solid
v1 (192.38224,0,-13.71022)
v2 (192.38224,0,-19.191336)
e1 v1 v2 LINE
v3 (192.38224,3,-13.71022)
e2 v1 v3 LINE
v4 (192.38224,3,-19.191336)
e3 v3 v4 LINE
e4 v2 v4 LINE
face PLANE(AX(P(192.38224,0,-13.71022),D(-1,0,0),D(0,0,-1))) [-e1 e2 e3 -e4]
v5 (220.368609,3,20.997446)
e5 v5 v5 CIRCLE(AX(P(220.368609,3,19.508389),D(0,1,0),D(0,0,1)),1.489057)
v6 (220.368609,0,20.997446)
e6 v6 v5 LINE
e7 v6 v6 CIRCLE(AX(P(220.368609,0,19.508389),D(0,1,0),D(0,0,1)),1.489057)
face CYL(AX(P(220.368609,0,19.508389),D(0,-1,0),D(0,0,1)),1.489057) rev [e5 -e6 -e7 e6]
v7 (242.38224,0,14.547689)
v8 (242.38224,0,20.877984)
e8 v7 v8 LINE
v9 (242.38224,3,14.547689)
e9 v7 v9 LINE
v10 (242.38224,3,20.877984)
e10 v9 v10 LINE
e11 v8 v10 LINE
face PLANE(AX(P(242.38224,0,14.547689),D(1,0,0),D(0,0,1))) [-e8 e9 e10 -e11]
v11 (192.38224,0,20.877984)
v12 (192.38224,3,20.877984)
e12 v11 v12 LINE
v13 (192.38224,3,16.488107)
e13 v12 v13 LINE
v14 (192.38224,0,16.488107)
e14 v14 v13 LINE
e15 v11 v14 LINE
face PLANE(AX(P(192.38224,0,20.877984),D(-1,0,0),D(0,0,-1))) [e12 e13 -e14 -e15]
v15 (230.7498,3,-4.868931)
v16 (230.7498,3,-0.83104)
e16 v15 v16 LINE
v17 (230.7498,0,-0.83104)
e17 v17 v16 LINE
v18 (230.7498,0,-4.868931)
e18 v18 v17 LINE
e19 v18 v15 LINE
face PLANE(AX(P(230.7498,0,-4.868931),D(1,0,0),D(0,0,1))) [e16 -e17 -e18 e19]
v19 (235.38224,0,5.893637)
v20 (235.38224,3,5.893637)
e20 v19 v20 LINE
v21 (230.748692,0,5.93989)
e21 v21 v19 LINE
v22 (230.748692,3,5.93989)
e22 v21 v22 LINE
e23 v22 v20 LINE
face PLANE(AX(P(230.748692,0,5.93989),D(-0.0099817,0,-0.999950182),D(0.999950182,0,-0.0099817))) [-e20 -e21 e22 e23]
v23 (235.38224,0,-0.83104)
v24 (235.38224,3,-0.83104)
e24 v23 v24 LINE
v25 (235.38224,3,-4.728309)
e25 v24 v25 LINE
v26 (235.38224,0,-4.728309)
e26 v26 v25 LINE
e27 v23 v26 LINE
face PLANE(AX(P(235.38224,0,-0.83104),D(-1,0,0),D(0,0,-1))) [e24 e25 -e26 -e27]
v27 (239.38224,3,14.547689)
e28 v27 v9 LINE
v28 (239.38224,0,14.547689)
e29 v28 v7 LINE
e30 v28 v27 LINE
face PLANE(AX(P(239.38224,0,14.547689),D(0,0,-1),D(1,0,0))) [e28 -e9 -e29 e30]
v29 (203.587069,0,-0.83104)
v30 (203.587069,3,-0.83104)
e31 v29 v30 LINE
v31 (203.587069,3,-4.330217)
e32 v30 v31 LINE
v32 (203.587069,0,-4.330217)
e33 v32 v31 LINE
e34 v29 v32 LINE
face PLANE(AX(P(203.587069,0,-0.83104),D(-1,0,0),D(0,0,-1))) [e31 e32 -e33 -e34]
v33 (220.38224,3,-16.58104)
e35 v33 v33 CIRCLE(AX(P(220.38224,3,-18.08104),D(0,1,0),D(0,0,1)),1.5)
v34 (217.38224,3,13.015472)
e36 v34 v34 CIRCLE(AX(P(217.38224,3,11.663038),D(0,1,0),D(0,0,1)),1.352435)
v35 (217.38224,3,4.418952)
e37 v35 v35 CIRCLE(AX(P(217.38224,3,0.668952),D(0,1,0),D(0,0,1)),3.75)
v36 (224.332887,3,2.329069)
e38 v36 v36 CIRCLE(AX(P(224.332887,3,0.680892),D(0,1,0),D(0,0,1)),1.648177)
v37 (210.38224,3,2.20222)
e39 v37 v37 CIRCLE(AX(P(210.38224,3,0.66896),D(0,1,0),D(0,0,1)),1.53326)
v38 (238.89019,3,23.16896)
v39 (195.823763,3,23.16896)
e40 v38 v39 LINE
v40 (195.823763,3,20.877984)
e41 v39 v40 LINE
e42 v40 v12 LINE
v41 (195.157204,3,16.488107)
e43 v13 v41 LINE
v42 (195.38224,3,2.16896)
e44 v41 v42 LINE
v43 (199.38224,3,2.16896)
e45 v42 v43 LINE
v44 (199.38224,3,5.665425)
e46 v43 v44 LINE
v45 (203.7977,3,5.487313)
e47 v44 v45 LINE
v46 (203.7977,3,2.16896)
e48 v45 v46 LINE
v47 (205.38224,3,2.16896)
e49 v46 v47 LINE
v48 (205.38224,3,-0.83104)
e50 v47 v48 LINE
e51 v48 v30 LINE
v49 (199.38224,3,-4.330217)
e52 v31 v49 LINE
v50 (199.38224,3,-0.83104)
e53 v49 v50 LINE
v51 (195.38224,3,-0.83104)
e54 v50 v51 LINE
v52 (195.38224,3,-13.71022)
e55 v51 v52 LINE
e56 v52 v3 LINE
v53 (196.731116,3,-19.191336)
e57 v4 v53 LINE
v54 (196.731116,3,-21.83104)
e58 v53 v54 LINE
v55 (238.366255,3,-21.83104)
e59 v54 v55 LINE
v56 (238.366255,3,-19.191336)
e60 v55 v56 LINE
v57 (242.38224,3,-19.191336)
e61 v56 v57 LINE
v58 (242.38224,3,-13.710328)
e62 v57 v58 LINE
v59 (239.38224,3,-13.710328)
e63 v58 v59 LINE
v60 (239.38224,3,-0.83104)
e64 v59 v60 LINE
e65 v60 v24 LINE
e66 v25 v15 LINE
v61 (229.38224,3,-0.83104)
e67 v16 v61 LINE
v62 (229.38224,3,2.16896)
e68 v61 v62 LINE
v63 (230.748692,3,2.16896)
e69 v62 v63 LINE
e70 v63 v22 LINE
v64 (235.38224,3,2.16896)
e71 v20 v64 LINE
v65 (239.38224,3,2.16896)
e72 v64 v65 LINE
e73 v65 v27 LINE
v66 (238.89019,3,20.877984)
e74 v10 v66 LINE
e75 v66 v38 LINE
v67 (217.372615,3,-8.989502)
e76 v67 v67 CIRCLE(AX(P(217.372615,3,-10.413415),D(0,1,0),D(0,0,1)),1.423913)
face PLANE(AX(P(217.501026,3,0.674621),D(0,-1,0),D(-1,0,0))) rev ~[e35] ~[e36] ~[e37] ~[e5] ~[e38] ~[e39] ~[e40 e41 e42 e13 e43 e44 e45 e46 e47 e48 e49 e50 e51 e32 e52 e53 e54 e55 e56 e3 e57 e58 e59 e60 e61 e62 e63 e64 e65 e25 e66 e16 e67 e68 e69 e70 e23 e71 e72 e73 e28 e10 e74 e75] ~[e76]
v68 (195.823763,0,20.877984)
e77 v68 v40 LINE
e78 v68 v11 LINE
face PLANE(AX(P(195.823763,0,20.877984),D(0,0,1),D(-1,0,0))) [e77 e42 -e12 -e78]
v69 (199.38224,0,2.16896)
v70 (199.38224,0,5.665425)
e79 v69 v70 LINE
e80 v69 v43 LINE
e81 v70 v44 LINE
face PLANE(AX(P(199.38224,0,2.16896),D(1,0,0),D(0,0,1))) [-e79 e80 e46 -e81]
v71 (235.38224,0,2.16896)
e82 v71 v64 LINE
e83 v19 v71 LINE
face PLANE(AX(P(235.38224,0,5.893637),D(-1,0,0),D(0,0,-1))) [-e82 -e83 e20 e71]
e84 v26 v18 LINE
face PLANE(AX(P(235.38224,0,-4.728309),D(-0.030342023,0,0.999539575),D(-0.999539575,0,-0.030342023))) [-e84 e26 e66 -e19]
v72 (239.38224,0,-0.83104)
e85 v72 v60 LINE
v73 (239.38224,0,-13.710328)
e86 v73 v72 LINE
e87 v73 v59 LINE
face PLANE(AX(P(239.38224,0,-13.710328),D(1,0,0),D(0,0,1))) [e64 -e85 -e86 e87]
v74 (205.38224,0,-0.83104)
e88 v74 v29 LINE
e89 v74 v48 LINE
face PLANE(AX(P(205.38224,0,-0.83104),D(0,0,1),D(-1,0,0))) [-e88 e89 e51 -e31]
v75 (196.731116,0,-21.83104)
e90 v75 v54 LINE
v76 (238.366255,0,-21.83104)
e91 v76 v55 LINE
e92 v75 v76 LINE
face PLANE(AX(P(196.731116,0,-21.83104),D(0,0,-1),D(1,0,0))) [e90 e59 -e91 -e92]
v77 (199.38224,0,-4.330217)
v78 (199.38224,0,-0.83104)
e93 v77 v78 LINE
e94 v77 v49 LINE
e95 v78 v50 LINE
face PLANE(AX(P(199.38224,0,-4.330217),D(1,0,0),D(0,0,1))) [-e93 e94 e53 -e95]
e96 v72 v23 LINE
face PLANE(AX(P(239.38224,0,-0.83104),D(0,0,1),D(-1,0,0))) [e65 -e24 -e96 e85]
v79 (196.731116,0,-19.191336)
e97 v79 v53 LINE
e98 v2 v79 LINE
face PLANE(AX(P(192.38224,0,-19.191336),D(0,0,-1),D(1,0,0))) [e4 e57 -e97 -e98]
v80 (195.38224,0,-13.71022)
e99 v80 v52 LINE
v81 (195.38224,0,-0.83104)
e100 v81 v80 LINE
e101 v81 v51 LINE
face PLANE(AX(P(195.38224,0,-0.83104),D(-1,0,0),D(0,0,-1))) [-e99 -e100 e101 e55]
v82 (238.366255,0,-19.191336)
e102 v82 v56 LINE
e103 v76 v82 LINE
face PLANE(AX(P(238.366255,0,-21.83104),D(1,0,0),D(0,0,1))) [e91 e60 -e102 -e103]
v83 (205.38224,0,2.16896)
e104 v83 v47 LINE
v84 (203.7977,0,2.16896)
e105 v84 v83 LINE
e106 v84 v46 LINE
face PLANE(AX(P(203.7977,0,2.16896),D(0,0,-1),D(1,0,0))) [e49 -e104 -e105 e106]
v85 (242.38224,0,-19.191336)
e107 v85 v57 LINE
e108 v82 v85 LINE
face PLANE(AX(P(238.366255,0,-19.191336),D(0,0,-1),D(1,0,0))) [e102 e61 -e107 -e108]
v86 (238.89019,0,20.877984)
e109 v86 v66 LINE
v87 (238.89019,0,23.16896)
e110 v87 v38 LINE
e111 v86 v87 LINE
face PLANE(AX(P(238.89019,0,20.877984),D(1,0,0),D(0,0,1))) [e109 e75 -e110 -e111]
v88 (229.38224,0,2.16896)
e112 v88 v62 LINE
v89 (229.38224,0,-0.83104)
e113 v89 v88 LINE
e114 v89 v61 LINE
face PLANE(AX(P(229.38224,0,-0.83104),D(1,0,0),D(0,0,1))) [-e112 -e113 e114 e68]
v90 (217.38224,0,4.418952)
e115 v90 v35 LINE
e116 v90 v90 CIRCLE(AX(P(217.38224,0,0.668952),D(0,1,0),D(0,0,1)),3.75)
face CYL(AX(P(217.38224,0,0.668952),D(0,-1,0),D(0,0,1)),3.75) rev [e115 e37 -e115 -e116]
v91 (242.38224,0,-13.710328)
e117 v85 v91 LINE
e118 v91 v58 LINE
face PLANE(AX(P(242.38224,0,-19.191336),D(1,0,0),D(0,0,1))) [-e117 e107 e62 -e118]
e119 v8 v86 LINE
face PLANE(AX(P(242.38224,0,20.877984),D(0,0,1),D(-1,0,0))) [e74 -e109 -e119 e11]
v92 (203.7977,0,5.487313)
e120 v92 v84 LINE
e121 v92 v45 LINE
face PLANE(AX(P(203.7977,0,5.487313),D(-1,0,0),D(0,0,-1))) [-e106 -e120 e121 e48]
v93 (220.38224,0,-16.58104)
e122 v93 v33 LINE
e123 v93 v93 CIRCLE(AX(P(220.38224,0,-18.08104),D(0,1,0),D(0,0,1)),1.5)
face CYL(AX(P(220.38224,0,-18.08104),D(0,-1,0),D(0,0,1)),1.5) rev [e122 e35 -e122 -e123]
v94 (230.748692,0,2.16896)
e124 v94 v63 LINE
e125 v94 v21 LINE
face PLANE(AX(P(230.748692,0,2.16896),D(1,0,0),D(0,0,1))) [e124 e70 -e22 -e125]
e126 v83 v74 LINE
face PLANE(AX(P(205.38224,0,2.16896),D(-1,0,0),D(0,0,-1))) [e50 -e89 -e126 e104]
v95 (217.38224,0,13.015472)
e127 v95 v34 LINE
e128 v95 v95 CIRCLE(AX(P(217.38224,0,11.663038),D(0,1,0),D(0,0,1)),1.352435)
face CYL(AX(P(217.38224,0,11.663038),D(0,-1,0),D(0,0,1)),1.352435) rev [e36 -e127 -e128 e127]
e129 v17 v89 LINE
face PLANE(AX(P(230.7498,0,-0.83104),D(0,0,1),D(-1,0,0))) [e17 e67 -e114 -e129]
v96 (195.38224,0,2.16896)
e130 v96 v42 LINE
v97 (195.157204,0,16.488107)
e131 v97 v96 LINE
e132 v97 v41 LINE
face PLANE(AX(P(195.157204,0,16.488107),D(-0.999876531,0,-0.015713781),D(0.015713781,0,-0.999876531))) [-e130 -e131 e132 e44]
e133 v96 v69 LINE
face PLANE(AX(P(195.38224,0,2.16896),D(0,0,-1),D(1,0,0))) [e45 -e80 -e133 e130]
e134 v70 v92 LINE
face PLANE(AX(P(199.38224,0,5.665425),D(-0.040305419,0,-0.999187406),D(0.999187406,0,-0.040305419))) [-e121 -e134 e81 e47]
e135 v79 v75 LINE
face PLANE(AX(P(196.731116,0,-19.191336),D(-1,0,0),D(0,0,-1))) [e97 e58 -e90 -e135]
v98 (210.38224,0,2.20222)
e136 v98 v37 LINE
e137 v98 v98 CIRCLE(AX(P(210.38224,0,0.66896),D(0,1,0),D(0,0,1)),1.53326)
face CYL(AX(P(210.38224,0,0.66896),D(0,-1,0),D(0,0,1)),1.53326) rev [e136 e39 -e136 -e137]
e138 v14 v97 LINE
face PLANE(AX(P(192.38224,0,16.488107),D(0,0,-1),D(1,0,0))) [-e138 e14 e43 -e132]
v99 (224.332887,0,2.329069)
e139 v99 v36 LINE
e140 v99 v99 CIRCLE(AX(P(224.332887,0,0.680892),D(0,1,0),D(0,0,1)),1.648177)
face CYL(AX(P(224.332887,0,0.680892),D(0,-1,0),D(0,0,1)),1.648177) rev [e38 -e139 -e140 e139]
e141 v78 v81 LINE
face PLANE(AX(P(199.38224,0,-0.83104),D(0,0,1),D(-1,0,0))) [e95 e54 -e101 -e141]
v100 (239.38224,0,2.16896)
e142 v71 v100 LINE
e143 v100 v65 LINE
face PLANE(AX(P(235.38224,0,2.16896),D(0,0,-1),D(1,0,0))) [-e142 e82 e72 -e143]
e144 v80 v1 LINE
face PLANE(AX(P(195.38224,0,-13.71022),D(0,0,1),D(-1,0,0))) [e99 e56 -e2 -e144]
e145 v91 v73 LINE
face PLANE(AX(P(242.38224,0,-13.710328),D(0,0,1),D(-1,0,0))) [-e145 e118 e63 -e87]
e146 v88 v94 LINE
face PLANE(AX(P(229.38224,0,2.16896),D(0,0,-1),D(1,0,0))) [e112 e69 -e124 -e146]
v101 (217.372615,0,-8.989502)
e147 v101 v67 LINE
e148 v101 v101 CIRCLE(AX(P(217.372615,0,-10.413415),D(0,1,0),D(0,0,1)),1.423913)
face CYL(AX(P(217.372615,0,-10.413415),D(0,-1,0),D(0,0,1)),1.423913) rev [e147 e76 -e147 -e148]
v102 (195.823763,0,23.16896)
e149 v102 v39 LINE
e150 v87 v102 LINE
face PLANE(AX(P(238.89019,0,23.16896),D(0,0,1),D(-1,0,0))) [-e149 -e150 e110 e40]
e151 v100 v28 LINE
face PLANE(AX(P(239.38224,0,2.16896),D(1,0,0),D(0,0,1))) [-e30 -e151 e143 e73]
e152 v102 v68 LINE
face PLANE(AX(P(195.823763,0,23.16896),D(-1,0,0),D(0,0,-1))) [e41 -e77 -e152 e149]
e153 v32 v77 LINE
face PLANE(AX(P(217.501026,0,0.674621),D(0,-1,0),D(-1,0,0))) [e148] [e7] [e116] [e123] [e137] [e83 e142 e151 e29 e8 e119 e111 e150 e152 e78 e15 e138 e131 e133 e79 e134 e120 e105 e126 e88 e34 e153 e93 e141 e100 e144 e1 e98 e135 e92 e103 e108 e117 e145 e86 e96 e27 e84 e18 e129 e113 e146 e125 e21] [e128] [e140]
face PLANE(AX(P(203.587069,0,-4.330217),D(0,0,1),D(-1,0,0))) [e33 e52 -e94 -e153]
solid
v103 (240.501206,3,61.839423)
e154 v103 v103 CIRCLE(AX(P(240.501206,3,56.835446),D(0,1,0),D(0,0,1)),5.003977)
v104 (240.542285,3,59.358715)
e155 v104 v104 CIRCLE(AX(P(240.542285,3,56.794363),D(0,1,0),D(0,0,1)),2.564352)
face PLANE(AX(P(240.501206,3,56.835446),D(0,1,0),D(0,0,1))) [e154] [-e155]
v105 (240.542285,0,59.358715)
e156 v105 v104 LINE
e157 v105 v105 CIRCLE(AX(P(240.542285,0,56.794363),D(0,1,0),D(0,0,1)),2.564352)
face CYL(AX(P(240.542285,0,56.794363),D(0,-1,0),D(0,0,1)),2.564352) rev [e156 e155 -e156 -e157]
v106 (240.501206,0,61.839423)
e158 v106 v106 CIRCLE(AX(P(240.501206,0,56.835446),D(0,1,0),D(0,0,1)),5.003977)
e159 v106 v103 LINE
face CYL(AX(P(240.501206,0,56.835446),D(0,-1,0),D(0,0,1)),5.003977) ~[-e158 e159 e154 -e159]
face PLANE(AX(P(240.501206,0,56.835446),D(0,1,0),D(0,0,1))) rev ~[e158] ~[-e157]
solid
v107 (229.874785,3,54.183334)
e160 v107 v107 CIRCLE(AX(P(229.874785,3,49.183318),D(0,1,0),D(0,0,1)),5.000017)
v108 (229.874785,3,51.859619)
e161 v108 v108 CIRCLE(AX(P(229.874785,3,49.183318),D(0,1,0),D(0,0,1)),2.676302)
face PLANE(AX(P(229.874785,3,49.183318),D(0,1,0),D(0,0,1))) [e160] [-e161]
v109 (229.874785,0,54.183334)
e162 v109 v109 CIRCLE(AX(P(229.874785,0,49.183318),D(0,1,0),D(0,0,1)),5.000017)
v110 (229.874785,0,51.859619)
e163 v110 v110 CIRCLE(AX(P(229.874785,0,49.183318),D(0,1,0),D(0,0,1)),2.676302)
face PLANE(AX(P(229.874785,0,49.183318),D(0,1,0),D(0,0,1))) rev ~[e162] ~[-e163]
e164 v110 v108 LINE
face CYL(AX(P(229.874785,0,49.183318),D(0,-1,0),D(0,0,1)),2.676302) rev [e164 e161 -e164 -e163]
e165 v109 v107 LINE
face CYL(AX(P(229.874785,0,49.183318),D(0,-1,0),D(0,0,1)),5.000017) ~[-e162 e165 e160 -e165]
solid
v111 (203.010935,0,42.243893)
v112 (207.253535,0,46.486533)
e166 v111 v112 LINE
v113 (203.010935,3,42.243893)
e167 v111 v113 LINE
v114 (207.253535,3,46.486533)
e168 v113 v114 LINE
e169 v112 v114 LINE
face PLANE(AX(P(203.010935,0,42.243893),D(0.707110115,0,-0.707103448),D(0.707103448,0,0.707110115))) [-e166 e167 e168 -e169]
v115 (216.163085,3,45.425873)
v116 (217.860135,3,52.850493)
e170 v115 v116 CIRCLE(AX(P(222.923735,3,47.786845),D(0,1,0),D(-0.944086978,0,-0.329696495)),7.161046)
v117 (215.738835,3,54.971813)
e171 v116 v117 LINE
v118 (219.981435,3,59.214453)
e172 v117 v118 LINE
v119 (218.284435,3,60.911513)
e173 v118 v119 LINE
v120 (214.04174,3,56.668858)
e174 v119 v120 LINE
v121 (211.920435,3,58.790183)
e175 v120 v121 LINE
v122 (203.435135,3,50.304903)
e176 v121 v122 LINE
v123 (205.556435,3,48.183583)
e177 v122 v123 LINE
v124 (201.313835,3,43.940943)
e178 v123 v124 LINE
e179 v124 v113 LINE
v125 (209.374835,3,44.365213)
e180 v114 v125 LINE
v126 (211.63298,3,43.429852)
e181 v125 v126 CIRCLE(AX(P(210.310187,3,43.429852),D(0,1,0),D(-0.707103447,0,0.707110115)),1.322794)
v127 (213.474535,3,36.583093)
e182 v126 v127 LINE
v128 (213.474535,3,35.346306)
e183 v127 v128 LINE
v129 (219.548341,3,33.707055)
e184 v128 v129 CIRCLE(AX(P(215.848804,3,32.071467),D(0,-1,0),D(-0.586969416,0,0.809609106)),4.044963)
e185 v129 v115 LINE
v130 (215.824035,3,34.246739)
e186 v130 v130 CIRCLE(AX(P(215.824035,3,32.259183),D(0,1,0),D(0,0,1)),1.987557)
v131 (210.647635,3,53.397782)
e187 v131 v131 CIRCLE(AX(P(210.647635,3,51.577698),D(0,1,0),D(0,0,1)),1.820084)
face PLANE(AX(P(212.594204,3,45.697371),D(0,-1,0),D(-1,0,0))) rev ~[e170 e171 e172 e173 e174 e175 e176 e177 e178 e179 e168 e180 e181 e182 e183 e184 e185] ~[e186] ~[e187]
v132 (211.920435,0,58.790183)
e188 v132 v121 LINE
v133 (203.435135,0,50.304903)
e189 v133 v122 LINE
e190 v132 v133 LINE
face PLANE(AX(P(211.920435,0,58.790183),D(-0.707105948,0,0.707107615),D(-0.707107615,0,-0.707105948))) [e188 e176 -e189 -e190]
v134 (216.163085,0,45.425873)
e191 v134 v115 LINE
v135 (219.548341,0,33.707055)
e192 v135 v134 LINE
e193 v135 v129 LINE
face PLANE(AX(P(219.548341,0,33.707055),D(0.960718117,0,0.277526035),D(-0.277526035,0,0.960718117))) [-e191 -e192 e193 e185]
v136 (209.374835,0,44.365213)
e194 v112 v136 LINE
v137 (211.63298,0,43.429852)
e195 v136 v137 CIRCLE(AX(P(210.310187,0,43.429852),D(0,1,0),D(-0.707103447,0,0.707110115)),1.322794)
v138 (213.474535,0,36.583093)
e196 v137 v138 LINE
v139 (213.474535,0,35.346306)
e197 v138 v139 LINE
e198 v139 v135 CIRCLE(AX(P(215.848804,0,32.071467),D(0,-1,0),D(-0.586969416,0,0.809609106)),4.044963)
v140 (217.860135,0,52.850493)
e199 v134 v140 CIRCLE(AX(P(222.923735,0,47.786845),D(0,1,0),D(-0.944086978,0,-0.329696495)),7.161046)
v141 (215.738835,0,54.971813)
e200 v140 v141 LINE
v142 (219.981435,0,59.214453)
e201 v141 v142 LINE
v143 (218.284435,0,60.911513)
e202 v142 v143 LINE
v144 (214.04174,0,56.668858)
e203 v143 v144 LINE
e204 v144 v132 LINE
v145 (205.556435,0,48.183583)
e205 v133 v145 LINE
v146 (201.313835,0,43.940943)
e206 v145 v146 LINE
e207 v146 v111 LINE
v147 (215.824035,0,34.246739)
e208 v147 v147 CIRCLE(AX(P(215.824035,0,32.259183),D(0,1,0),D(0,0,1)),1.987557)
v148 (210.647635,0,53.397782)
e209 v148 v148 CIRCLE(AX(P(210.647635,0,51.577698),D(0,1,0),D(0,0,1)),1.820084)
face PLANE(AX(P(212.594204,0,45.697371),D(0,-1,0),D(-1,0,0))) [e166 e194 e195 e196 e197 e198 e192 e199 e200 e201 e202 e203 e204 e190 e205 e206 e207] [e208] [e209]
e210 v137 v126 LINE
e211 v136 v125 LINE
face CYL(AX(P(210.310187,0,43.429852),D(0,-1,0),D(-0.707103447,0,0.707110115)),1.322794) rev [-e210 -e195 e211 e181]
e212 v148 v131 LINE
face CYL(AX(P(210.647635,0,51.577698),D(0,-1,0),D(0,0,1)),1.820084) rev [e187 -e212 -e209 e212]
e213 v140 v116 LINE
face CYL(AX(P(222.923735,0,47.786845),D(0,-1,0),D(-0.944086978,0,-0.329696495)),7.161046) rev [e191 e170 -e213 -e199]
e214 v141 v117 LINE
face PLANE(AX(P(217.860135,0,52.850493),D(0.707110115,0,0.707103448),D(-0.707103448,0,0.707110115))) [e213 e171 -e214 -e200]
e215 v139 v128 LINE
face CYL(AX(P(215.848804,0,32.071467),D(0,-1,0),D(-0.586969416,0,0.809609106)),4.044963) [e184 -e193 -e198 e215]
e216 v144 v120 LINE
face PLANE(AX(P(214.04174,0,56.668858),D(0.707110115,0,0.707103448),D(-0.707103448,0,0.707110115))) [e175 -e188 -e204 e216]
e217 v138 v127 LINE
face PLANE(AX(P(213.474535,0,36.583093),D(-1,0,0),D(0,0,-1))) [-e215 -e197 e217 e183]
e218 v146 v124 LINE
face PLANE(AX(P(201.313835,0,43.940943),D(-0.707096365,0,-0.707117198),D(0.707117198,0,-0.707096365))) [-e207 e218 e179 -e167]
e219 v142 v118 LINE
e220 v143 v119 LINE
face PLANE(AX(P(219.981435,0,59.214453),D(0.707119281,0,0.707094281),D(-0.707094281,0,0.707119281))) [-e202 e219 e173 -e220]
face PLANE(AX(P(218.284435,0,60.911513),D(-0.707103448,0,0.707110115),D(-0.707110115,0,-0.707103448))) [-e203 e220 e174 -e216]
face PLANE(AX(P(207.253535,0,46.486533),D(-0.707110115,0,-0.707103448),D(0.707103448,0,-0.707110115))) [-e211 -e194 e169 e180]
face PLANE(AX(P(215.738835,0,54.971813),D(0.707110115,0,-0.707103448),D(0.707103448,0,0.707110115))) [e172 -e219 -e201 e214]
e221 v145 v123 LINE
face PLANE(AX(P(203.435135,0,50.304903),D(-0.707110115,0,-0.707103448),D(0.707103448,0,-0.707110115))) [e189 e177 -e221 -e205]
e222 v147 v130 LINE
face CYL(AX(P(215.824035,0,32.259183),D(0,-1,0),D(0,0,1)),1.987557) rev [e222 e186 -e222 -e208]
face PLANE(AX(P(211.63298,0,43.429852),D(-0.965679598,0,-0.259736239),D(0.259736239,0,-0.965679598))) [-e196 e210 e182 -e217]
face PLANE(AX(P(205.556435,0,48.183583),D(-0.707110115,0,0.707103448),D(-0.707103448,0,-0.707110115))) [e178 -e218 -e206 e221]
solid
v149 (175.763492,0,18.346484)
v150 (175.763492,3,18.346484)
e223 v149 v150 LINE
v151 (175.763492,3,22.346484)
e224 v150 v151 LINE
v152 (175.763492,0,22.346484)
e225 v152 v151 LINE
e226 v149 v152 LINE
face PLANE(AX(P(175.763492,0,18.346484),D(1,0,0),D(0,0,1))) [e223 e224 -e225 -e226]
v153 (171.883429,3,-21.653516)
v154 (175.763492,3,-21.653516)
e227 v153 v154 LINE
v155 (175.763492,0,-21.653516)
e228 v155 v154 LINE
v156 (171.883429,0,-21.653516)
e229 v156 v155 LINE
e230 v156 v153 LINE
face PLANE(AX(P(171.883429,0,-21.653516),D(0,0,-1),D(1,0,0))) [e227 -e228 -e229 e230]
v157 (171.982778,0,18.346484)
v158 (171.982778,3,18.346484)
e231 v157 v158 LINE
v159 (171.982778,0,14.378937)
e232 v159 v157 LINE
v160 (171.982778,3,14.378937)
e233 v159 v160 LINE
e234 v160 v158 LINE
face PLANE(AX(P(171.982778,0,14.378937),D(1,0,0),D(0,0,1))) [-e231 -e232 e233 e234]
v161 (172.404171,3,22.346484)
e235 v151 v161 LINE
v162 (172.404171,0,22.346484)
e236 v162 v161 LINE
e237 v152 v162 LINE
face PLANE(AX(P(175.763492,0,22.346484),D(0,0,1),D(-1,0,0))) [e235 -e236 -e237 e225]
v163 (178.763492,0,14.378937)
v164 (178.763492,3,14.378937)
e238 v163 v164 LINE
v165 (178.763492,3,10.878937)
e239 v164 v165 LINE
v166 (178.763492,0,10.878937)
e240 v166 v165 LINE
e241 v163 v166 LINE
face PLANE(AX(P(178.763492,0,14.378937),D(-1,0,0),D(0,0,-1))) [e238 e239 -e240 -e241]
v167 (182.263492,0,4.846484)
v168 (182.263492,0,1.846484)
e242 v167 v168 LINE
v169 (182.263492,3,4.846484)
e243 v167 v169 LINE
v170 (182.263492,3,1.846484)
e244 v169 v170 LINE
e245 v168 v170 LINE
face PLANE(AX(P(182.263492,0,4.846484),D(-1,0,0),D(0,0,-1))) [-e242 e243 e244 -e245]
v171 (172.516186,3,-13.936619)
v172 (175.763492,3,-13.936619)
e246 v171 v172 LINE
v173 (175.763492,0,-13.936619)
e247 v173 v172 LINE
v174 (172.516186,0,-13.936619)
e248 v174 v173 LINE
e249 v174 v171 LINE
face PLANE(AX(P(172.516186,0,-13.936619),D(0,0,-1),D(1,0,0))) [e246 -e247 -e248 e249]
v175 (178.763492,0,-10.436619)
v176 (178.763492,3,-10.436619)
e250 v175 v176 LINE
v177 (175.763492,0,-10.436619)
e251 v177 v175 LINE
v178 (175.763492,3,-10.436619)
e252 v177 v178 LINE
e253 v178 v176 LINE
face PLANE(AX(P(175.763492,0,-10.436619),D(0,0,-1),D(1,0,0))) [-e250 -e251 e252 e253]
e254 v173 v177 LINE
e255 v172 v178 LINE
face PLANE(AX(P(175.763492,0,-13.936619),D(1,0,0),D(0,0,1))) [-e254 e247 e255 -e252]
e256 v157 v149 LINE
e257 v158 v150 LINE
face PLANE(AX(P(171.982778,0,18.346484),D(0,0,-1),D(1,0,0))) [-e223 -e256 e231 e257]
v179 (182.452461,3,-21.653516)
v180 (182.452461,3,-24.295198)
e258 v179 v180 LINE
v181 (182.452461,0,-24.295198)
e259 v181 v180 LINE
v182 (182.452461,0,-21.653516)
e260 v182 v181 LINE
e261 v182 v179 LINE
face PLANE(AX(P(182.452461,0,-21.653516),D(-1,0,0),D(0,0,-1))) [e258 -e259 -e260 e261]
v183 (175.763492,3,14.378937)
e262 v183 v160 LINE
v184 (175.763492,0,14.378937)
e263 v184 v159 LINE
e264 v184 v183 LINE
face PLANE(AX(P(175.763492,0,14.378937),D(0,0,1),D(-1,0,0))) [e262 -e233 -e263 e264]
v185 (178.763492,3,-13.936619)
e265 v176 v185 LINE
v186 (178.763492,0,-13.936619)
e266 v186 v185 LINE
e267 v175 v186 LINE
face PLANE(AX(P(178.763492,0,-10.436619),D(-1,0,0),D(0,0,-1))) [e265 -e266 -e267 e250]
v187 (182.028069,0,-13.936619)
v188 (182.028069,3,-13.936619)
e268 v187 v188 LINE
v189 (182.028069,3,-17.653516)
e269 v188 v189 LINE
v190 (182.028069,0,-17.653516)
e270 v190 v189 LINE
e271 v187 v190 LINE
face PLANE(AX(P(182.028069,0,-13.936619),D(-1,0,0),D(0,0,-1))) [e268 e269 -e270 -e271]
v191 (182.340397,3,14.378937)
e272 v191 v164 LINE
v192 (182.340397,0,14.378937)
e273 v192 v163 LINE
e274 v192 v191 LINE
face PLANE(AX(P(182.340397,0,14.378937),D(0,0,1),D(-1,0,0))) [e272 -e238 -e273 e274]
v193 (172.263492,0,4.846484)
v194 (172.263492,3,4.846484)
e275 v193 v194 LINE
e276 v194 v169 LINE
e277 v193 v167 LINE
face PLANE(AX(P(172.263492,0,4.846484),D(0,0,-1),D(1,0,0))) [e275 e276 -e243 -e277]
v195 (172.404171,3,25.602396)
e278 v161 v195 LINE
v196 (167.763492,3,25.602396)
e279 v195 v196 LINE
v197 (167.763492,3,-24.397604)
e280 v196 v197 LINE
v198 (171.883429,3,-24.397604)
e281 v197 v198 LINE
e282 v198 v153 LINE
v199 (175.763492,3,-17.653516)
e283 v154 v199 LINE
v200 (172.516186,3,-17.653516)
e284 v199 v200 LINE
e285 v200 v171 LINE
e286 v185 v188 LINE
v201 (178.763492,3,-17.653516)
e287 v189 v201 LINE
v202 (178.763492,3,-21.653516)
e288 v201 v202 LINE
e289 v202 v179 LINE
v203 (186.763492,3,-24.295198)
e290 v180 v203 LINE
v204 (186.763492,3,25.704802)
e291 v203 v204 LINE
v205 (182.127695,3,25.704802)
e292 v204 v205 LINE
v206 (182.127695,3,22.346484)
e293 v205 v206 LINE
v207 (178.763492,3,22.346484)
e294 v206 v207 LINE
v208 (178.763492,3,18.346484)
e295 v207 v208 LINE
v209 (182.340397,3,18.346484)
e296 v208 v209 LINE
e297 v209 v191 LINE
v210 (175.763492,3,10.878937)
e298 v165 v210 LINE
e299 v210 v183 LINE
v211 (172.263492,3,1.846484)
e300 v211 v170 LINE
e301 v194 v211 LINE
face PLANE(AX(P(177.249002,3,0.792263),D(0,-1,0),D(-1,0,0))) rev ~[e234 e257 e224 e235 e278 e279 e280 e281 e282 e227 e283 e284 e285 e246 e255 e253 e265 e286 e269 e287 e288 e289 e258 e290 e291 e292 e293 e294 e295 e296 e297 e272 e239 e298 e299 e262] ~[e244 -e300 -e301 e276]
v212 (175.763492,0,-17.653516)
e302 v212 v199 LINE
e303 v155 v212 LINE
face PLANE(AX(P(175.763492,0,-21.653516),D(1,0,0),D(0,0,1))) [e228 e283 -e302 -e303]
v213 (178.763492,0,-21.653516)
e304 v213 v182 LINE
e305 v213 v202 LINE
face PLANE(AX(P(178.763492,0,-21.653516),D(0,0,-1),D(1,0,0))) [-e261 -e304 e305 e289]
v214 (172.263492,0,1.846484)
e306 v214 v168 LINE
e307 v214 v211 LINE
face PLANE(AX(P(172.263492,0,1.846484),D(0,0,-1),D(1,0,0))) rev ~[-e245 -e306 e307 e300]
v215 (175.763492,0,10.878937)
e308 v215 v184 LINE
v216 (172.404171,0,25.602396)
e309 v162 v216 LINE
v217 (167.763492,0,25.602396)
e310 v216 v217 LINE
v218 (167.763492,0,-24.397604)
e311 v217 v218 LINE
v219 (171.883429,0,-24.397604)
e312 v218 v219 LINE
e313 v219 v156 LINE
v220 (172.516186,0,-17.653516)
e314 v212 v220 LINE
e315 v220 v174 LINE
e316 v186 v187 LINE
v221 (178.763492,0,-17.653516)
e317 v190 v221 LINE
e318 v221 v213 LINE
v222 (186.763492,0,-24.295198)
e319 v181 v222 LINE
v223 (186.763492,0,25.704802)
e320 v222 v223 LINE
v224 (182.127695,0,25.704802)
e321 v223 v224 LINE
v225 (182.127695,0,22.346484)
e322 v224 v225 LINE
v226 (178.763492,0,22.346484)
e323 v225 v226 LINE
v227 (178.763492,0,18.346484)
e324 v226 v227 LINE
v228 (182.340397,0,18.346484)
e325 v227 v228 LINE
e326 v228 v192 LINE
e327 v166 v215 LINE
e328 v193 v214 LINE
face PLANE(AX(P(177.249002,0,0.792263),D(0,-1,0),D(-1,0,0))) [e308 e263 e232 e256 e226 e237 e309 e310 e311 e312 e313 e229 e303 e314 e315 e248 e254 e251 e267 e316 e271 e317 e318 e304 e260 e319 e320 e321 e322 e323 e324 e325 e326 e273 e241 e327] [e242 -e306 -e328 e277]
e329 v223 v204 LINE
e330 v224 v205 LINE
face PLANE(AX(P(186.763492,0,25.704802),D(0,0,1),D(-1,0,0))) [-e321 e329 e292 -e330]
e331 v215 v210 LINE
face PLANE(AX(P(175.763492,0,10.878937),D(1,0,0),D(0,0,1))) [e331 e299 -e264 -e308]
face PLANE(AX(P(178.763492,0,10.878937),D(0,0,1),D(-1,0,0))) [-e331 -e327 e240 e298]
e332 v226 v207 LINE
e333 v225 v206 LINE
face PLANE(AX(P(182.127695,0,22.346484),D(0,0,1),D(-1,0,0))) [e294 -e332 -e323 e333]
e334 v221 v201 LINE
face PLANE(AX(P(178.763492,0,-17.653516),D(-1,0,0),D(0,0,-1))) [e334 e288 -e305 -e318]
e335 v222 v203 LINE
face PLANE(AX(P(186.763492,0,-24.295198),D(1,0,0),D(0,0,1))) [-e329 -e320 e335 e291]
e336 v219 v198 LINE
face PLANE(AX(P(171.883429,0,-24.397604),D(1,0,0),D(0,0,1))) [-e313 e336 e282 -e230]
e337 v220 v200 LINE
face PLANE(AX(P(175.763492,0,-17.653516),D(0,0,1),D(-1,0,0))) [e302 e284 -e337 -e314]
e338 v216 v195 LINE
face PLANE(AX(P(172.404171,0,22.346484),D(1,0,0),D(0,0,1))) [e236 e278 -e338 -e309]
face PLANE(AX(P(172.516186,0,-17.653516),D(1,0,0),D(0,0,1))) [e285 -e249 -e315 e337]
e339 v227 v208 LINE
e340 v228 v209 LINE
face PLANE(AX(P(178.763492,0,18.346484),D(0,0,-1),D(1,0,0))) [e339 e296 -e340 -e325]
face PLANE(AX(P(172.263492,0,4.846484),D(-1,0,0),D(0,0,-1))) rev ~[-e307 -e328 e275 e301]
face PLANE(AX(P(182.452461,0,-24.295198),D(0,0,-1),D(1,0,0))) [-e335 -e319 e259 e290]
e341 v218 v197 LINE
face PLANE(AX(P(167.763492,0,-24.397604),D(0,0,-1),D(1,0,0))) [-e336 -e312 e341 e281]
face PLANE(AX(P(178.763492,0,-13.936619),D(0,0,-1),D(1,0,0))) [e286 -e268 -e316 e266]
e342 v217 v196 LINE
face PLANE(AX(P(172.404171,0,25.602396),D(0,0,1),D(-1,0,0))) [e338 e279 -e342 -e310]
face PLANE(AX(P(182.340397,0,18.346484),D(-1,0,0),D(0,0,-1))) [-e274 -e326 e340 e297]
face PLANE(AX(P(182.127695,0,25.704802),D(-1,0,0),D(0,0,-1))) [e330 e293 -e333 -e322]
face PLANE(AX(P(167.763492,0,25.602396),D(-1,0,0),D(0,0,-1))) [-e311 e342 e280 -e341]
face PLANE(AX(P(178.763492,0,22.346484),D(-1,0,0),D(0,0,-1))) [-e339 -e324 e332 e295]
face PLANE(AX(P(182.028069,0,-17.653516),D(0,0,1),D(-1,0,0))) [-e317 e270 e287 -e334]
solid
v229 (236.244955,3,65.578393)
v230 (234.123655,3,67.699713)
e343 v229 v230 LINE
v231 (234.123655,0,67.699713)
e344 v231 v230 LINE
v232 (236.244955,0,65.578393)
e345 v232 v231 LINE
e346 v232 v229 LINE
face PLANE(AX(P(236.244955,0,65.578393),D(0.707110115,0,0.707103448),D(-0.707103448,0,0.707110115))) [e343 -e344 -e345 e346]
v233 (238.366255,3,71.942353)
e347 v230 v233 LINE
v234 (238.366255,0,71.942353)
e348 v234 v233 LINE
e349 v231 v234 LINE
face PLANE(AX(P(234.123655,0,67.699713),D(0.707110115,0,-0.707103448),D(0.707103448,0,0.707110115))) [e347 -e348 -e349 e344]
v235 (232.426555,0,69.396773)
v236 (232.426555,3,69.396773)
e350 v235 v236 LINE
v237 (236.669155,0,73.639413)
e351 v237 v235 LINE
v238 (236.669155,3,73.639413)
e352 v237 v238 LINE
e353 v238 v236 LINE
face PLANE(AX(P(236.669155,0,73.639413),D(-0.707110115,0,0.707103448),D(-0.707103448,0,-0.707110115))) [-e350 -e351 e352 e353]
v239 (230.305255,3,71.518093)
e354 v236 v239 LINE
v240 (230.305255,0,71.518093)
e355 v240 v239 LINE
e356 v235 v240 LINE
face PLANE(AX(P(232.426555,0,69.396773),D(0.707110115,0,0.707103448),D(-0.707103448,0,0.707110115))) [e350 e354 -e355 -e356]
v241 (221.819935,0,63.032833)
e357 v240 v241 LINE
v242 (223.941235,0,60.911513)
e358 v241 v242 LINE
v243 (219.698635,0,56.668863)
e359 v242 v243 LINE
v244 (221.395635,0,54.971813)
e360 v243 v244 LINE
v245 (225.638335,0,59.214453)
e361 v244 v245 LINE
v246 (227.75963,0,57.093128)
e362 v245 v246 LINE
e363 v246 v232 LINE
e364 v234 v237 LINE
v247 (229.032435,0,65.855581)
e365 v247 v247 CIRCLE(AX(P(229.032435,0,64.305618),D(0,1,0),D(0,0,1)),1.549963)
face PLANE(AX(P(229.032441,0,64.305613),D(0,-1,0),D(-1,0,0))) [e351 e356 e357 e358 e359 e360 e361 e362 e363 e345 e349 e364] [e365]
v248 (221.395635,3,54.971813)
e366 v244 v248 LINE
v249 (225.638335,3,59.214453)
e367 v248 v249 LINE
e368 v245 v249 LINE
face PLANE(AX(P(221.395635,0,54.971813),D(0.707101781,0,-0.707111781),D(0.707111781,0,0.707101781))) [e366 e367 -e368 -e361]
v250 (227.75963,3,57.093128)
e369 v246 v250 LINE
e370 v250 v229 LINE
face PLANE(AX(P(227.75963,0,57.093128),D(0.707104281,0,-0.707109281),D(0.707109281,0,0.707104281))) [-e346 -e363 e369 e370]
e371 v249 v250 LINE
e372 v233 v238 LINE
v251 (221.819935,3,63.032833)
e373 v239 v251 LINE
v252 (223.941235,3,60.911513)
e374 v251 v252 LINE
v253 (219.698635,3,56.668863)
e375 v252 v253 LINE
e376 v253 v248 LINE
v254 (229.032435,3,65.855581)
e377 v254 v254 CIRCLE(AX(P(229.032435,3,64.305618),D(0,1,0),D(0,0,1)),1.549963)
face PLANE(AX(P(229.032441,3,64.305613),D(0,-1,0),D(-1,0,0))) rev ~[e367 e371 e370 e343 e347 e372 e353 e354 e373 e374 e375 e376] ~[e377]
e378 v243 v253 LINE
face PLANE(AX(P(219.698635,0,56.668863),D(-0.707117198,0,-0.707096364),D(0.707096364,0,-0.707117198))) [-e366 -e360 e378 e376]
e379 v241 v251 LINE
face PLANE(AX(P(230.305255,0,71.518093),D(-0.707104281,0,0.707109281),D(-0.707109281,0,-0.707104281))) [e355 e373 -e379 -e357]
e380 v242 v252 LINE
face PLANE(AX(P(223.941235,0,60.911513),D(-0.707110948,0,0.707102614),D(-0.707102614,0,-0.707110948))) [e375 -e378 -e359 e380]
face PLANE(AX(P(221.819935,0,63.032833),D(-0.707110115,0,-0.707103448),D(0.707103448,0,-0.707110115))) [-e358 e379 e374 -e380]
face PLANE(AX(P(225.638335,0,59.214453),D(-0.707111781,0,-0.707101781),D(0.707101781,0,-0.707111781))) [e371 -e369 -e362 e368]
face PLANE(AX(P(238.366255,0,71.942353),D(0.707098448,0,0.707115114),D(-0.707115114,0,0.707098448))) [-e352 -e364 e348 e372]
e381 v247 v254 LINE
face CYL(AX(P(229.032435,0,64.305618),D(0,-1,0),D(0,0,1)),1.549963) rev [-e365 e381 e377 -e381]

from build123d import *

# Parameters (mm, degrees)
SKETCH6_R             = 5.00001662
SKETCH6_R_2           = 2.676301768
BOSS_EXTRUDE1_DEPTH   = 3
SKETCH6_R_3           = 5.003976988
SKETCH6_R_4           = 2.564352457
BOSS_EXTRUDE1_2_DEPTH = 3
SKETCH6_R_5           = 3.75
SKETCH6_R_6           = 1.53326
SKETCH6_R_7           = 1.42391285
SKETCH6_R_8           = 1.648176726
SKETCH6_R_9           = 1.5
SKETCH6_R_10          = 1.352434515
SKETCH6_R_11          = 1.489057141
BOSS_EXTRUDE1_3_DEPTH = 3
SKETCH6_W             = 10
SKETCH6_H             = 3
BOSS_EXTRUDE1_4_DEPTH = 3
SKETCH6_R_12          = 1.987556524
SKETCH6_R_13          = 1.820084062
BOSS_EXTRUDE1_5_DEPTH = 3
SKETCH6_R_14          = 1.549963263
BOSS_EXTRUDE1_6_DEPTH = 3


with BuildPart() as part:
    # Sketch6 → Boss-Extrude1 (new body)
    with BuildSketch(Plane(origin=(0, 0, -6.873626876), x_dir=(1, 0, 0), z_dir=(0, 1, 0))):
        with Locations(Location((229.874784709, -56.056944562, 0), (0, 0, 270))):
            Circle(SKETCH6_R)
        with Locations(Location((229.874784709, -56.056944562, 0), (0, 0, 270))):
            Circle(SKETCH6_R_2, mode=Mode.SUBTRACT)
    extrude(amount=BOSS_EXTRUDE1_DEPTH)


with BuildPart() as body_2:
    # Sketch6 → Boss-Extrude1 2 (new body)
    with BuildSketch(Plane(origin=(0, 0, -6.873626876), x_dir=(1, 0, 0), z_dir=(0, 1, 0))):
        with Locations(Location((240.501206391, -63.709072507, 0), (0, 0, 270))):
            Circle(SKETCH6_R_3)
        with Locations(Location((240.542284709, -63.667989562, 0), (0, 0, 270))):
            Circle(SKETCH6_R_4, mode=Mode.SUBTRACT)
    extrude(amount=BOSS_EXTRUDE1_2_DEPTH)


with BuildPart() as body_3:
    # Sketch6 → Boss-Extrude1 3 (new body)
    with BuildSketch(Plane(origin=(0, 0, -6.873626876), x_dir=(1, 0, 0), z_dir=(0, 1, 0))):
        Polygon((242.382239794, 6.836701249), (239.382239794, 6.836701249), (239.382239794, -6.042586825), (235.382239794, -6.042586825), (235.382239794, -2.14531779), (230.749800061, -2.004695449), (230.749800061, -6.042586825), (229.382239794, -6.042586825), (229.382239794, -9.042586825), (230.748691654, -9.042586825), (230.748691654, -12.813516805), (235.382239794, -12.767263811), (235.382239794, -9.042586825), (239.382239794, -9.042586825), (239.382239794, -21.421316018), (242.382239794, -21.421316018), (242.382239794, -27.751611143), (238.890190267, -27.751611143), (238.890190267, -30.042586825), (195.823762638, -30.042586825), (195.823762638, -27.751611143), (192.382239794, -27.751611143), (192.382239794, -23.361733729), (195.157204069, -23.361733729), (195.382239794, -9.042586825), (199.382239794, -9.042586825), (199.382239794, -12.539051999), (203.797700047, -12.360940289), (203.797700047, -9.042586825), (205.382239794, -9.042586825), (205.382239794, -6.042586825), (203.587068887, -6.042586825), (203.587068887, -2.54340954), (199.382239794, -2.54340954), (199.382239794, -6.042586825), (195.382239794, -6.042586825), (195.382239794, 6.836593447), (192.382239794, 6.836593447), (192.382239794, 12.317708836), (196.731116236, 12.317708836), (196.731116236, 14.957413175), (238.366254708, 14.957413175), (238.366254708, 12.317708836), (242.382239794, 12.317708836), align=None)
        with Locations(Location((217.382239794, -7.542579319, 0), (0, 0, 270))):
            Circle(SKETCH6_R_5, mode=Mode.SUBTRACT)
        with Locations(Location((210.382239794, -7.542586825, 0), (0, 0, 270))):
            Circle(SKETCH6_R_6, mode=Mode.SUBTRACT)
        with Locations(Location((217.372614794, 3.539788175, 0), (0, 0, 270))):
            Circle(SKETCH6_R_7, mode=Mode.SUBTRACT)
        with Locations(Location((224.332886765, -7.554518996, 0), (0, 0, 270))):
            Circle(SKETCH6_R_8, mode=Mode.SUBTRACT)
        with Locations(Location((220.382239794, 11.207413175, 0), (0, 0, 270))):
            Circle(SKETCH6_R_9, mode=Mode.SUBTRACT)
        with Locations(Location((217.382239794, -18.536664507, 0), (0, 0, 270))):
            Circle(SKETCH6_R_10, mode=Mode.SUBTRACT)
        with Locations(Location((220.368609085, -26.382015564, 0), (0, 0, 270))):
            Circle(SKETCH6_R_11, mode=Mode.SUBTRACT)
    extrude(amount=BOSS_EXTRUDE1_3_DEPTH)


with BuildPart() as body_4:
    # Sketch6 → Boss-Extrude1 4 (new body)
    with BuildSketch(Plane(origin=(0, 0, -6.873626876), x_dir=(1, 0, 0), z_dir=(0, 1, 0))):
        Polygon((171.883428579, 17.523976804), (171.883428579, 14.779888825), (175.763491707, 14.779888825), (175.763491707, 10.779888825), (172.516185966, 10.779888825), (172.516185966, 7.062992514), (175.763491707, 7.062992514), (175.763491707, 3.562992514), (178.763491707, 3.562992514), (178.763491707, 7.062992514), (182.028068614, 7.062992514), (182.028068614, 10.779888825), (178.763491707, 10.779888825), (178.763491707, 14.779888825), (182.452460556, 14.779888825), (182.452460556, 17.421571169), (186.763491707, 17.421571169), (186.763491707, -32.578428831), (182.127695455, -32.578428831), (182.127695455, -29.220111175), (178.763491707, -29.220111175), (178.763491707, -25.220111175), (182.34039673, -25.220111175), (182.34039673, -21.252563381), (178.763491707, -21.252563381), (178.763491707, -17.752563381), (175.763491707, -17.752563381), (175.763491707, -21.252563381), (171.982778318, -21.252563381), (171.982778318, -25.220111175), (175.763491707, -25.220111175), (175.763491707, -29.220111175), (172.40417104, -29.220111175), (172.40417104, -32.476023196), (167.763491707, -32.476023196), (167.763491707, 17.523976804), align=None)
        with Locations((177.263491707, -10.220111175)):
            Rectangle(SKETCH6_W, SKETCH6_H, mode=Mode.SUBTRACT)
    extrude(amount=BOSS_EXTRUDE1_4_DEPTH)


with BuildPart() as body_5:
    # Sketch6 → Boss-Extrude1 5 (new body)
    with BuildSketch(Plane(origin=(0, 0, -6.873626876), x_dir=(1, 0, 0), z_dir=(0, 1, 0))):
        with BuildLine():
            Line((217.860134709, -59.724119562), (215.738834709, -61.845439562))
            Line((215.738834709, -61.845439562), (219.981434709, -66.088079562))
            Line((219.981434709, -66.088079562), (218.284434709, -67.785139562))
            Line((218.284434709, -67.785139562), (214.041739708, -63.542484562))
            Line((214.041739708, -63.542484562), (211.920434709, -65.663809562))
            Line((211.920434709, -65.663809562), (203.435134709, -57.178529562))
            Line((203.435134709, -57.178529562), (205.556434709, -55.057209562))
            Line((205.556434709, -55.057209562), (201.313834709, -50.814569562))
            Line((201.313834709, -50.814569562), (203.010934709, -49.117519562))
            Line((203.010934709, -49.117519562), (207.253534709, -53.360159562))
            Line((207.253534709, -53.360159562), (209.374834709, -51.238839562))
            ThreePointArc((209.374834709, -51.238839562), (210.816400769, -51.525579581), (211.632980333, -50.303478783))
            Line((211.632980333, -50.303478783), (213.474534709, -43.456719562))
            Line((213.474534709, -43.456719562), (213.474534709, -42.219932453))
            ThreePointArc((213.474534709, -42.219932453), (214.794826347, -35.039859898), (219.548340876, -40.580682177))
            Line((219.548340876, -40.580682177), (216.163084709, -52.299499562))
            ThreePointArc((216.163084709, -52.299499562), (215.942727144, -56.256124713), (217.860134709, -59.724119562))
        make_face()
        with Locations(Location((215.824034709, -39.132809562, 0), (0, 0, 270))):
            Circle(SKETCH6_R_12, mode=Mode.SUBTRACT)
        with Locations(Location((210.647634709, -58.451324562, 0), (0, 0, 270))):
            Circle(SKETCH6_R_13, mode=Mode.SUBTRACT)
    extrude(amount=BOSS_EXTRUDE1_5_DEPTH)


with BuildPart() as body_6:
    # Sketch6 → Boss-Extrude1 6 (new body)
    with BuildSketch(Plane(origin=(0, 0, -6.873626876), x_dir=(1, 0, 0), z_dir=(0, 1, 0))):
        Polygon((227.759629709, -63.966754562), (236.244954708, -72.452019563), (234.123654708, -74.573339563), (238.366254708, -78.815979563), (236.669154708, -80.513039563), (232.426554708, -76.270399563), (230.305254708, -78.391719563), (221.819934709, -69.906459562), (223.941234709, -67.785139562), (219.698634709, -63.542489562), (221.395634709, -61.845439562), (225.638334709, -66.088079562), align=None)
        with Locations(Location((229.032434709, -71.179244562, 0), (0, 0, 270))):
            Circle(SKETCH6_R_14, mode=Mode.SUBTRACT)
    extrude(amount=BOSS_EXTRUDE1_6_DEPTH)


solid = Compound([part.part, body_2.part, body_3.part, body_4.part, body_5.part, body_6.part])
